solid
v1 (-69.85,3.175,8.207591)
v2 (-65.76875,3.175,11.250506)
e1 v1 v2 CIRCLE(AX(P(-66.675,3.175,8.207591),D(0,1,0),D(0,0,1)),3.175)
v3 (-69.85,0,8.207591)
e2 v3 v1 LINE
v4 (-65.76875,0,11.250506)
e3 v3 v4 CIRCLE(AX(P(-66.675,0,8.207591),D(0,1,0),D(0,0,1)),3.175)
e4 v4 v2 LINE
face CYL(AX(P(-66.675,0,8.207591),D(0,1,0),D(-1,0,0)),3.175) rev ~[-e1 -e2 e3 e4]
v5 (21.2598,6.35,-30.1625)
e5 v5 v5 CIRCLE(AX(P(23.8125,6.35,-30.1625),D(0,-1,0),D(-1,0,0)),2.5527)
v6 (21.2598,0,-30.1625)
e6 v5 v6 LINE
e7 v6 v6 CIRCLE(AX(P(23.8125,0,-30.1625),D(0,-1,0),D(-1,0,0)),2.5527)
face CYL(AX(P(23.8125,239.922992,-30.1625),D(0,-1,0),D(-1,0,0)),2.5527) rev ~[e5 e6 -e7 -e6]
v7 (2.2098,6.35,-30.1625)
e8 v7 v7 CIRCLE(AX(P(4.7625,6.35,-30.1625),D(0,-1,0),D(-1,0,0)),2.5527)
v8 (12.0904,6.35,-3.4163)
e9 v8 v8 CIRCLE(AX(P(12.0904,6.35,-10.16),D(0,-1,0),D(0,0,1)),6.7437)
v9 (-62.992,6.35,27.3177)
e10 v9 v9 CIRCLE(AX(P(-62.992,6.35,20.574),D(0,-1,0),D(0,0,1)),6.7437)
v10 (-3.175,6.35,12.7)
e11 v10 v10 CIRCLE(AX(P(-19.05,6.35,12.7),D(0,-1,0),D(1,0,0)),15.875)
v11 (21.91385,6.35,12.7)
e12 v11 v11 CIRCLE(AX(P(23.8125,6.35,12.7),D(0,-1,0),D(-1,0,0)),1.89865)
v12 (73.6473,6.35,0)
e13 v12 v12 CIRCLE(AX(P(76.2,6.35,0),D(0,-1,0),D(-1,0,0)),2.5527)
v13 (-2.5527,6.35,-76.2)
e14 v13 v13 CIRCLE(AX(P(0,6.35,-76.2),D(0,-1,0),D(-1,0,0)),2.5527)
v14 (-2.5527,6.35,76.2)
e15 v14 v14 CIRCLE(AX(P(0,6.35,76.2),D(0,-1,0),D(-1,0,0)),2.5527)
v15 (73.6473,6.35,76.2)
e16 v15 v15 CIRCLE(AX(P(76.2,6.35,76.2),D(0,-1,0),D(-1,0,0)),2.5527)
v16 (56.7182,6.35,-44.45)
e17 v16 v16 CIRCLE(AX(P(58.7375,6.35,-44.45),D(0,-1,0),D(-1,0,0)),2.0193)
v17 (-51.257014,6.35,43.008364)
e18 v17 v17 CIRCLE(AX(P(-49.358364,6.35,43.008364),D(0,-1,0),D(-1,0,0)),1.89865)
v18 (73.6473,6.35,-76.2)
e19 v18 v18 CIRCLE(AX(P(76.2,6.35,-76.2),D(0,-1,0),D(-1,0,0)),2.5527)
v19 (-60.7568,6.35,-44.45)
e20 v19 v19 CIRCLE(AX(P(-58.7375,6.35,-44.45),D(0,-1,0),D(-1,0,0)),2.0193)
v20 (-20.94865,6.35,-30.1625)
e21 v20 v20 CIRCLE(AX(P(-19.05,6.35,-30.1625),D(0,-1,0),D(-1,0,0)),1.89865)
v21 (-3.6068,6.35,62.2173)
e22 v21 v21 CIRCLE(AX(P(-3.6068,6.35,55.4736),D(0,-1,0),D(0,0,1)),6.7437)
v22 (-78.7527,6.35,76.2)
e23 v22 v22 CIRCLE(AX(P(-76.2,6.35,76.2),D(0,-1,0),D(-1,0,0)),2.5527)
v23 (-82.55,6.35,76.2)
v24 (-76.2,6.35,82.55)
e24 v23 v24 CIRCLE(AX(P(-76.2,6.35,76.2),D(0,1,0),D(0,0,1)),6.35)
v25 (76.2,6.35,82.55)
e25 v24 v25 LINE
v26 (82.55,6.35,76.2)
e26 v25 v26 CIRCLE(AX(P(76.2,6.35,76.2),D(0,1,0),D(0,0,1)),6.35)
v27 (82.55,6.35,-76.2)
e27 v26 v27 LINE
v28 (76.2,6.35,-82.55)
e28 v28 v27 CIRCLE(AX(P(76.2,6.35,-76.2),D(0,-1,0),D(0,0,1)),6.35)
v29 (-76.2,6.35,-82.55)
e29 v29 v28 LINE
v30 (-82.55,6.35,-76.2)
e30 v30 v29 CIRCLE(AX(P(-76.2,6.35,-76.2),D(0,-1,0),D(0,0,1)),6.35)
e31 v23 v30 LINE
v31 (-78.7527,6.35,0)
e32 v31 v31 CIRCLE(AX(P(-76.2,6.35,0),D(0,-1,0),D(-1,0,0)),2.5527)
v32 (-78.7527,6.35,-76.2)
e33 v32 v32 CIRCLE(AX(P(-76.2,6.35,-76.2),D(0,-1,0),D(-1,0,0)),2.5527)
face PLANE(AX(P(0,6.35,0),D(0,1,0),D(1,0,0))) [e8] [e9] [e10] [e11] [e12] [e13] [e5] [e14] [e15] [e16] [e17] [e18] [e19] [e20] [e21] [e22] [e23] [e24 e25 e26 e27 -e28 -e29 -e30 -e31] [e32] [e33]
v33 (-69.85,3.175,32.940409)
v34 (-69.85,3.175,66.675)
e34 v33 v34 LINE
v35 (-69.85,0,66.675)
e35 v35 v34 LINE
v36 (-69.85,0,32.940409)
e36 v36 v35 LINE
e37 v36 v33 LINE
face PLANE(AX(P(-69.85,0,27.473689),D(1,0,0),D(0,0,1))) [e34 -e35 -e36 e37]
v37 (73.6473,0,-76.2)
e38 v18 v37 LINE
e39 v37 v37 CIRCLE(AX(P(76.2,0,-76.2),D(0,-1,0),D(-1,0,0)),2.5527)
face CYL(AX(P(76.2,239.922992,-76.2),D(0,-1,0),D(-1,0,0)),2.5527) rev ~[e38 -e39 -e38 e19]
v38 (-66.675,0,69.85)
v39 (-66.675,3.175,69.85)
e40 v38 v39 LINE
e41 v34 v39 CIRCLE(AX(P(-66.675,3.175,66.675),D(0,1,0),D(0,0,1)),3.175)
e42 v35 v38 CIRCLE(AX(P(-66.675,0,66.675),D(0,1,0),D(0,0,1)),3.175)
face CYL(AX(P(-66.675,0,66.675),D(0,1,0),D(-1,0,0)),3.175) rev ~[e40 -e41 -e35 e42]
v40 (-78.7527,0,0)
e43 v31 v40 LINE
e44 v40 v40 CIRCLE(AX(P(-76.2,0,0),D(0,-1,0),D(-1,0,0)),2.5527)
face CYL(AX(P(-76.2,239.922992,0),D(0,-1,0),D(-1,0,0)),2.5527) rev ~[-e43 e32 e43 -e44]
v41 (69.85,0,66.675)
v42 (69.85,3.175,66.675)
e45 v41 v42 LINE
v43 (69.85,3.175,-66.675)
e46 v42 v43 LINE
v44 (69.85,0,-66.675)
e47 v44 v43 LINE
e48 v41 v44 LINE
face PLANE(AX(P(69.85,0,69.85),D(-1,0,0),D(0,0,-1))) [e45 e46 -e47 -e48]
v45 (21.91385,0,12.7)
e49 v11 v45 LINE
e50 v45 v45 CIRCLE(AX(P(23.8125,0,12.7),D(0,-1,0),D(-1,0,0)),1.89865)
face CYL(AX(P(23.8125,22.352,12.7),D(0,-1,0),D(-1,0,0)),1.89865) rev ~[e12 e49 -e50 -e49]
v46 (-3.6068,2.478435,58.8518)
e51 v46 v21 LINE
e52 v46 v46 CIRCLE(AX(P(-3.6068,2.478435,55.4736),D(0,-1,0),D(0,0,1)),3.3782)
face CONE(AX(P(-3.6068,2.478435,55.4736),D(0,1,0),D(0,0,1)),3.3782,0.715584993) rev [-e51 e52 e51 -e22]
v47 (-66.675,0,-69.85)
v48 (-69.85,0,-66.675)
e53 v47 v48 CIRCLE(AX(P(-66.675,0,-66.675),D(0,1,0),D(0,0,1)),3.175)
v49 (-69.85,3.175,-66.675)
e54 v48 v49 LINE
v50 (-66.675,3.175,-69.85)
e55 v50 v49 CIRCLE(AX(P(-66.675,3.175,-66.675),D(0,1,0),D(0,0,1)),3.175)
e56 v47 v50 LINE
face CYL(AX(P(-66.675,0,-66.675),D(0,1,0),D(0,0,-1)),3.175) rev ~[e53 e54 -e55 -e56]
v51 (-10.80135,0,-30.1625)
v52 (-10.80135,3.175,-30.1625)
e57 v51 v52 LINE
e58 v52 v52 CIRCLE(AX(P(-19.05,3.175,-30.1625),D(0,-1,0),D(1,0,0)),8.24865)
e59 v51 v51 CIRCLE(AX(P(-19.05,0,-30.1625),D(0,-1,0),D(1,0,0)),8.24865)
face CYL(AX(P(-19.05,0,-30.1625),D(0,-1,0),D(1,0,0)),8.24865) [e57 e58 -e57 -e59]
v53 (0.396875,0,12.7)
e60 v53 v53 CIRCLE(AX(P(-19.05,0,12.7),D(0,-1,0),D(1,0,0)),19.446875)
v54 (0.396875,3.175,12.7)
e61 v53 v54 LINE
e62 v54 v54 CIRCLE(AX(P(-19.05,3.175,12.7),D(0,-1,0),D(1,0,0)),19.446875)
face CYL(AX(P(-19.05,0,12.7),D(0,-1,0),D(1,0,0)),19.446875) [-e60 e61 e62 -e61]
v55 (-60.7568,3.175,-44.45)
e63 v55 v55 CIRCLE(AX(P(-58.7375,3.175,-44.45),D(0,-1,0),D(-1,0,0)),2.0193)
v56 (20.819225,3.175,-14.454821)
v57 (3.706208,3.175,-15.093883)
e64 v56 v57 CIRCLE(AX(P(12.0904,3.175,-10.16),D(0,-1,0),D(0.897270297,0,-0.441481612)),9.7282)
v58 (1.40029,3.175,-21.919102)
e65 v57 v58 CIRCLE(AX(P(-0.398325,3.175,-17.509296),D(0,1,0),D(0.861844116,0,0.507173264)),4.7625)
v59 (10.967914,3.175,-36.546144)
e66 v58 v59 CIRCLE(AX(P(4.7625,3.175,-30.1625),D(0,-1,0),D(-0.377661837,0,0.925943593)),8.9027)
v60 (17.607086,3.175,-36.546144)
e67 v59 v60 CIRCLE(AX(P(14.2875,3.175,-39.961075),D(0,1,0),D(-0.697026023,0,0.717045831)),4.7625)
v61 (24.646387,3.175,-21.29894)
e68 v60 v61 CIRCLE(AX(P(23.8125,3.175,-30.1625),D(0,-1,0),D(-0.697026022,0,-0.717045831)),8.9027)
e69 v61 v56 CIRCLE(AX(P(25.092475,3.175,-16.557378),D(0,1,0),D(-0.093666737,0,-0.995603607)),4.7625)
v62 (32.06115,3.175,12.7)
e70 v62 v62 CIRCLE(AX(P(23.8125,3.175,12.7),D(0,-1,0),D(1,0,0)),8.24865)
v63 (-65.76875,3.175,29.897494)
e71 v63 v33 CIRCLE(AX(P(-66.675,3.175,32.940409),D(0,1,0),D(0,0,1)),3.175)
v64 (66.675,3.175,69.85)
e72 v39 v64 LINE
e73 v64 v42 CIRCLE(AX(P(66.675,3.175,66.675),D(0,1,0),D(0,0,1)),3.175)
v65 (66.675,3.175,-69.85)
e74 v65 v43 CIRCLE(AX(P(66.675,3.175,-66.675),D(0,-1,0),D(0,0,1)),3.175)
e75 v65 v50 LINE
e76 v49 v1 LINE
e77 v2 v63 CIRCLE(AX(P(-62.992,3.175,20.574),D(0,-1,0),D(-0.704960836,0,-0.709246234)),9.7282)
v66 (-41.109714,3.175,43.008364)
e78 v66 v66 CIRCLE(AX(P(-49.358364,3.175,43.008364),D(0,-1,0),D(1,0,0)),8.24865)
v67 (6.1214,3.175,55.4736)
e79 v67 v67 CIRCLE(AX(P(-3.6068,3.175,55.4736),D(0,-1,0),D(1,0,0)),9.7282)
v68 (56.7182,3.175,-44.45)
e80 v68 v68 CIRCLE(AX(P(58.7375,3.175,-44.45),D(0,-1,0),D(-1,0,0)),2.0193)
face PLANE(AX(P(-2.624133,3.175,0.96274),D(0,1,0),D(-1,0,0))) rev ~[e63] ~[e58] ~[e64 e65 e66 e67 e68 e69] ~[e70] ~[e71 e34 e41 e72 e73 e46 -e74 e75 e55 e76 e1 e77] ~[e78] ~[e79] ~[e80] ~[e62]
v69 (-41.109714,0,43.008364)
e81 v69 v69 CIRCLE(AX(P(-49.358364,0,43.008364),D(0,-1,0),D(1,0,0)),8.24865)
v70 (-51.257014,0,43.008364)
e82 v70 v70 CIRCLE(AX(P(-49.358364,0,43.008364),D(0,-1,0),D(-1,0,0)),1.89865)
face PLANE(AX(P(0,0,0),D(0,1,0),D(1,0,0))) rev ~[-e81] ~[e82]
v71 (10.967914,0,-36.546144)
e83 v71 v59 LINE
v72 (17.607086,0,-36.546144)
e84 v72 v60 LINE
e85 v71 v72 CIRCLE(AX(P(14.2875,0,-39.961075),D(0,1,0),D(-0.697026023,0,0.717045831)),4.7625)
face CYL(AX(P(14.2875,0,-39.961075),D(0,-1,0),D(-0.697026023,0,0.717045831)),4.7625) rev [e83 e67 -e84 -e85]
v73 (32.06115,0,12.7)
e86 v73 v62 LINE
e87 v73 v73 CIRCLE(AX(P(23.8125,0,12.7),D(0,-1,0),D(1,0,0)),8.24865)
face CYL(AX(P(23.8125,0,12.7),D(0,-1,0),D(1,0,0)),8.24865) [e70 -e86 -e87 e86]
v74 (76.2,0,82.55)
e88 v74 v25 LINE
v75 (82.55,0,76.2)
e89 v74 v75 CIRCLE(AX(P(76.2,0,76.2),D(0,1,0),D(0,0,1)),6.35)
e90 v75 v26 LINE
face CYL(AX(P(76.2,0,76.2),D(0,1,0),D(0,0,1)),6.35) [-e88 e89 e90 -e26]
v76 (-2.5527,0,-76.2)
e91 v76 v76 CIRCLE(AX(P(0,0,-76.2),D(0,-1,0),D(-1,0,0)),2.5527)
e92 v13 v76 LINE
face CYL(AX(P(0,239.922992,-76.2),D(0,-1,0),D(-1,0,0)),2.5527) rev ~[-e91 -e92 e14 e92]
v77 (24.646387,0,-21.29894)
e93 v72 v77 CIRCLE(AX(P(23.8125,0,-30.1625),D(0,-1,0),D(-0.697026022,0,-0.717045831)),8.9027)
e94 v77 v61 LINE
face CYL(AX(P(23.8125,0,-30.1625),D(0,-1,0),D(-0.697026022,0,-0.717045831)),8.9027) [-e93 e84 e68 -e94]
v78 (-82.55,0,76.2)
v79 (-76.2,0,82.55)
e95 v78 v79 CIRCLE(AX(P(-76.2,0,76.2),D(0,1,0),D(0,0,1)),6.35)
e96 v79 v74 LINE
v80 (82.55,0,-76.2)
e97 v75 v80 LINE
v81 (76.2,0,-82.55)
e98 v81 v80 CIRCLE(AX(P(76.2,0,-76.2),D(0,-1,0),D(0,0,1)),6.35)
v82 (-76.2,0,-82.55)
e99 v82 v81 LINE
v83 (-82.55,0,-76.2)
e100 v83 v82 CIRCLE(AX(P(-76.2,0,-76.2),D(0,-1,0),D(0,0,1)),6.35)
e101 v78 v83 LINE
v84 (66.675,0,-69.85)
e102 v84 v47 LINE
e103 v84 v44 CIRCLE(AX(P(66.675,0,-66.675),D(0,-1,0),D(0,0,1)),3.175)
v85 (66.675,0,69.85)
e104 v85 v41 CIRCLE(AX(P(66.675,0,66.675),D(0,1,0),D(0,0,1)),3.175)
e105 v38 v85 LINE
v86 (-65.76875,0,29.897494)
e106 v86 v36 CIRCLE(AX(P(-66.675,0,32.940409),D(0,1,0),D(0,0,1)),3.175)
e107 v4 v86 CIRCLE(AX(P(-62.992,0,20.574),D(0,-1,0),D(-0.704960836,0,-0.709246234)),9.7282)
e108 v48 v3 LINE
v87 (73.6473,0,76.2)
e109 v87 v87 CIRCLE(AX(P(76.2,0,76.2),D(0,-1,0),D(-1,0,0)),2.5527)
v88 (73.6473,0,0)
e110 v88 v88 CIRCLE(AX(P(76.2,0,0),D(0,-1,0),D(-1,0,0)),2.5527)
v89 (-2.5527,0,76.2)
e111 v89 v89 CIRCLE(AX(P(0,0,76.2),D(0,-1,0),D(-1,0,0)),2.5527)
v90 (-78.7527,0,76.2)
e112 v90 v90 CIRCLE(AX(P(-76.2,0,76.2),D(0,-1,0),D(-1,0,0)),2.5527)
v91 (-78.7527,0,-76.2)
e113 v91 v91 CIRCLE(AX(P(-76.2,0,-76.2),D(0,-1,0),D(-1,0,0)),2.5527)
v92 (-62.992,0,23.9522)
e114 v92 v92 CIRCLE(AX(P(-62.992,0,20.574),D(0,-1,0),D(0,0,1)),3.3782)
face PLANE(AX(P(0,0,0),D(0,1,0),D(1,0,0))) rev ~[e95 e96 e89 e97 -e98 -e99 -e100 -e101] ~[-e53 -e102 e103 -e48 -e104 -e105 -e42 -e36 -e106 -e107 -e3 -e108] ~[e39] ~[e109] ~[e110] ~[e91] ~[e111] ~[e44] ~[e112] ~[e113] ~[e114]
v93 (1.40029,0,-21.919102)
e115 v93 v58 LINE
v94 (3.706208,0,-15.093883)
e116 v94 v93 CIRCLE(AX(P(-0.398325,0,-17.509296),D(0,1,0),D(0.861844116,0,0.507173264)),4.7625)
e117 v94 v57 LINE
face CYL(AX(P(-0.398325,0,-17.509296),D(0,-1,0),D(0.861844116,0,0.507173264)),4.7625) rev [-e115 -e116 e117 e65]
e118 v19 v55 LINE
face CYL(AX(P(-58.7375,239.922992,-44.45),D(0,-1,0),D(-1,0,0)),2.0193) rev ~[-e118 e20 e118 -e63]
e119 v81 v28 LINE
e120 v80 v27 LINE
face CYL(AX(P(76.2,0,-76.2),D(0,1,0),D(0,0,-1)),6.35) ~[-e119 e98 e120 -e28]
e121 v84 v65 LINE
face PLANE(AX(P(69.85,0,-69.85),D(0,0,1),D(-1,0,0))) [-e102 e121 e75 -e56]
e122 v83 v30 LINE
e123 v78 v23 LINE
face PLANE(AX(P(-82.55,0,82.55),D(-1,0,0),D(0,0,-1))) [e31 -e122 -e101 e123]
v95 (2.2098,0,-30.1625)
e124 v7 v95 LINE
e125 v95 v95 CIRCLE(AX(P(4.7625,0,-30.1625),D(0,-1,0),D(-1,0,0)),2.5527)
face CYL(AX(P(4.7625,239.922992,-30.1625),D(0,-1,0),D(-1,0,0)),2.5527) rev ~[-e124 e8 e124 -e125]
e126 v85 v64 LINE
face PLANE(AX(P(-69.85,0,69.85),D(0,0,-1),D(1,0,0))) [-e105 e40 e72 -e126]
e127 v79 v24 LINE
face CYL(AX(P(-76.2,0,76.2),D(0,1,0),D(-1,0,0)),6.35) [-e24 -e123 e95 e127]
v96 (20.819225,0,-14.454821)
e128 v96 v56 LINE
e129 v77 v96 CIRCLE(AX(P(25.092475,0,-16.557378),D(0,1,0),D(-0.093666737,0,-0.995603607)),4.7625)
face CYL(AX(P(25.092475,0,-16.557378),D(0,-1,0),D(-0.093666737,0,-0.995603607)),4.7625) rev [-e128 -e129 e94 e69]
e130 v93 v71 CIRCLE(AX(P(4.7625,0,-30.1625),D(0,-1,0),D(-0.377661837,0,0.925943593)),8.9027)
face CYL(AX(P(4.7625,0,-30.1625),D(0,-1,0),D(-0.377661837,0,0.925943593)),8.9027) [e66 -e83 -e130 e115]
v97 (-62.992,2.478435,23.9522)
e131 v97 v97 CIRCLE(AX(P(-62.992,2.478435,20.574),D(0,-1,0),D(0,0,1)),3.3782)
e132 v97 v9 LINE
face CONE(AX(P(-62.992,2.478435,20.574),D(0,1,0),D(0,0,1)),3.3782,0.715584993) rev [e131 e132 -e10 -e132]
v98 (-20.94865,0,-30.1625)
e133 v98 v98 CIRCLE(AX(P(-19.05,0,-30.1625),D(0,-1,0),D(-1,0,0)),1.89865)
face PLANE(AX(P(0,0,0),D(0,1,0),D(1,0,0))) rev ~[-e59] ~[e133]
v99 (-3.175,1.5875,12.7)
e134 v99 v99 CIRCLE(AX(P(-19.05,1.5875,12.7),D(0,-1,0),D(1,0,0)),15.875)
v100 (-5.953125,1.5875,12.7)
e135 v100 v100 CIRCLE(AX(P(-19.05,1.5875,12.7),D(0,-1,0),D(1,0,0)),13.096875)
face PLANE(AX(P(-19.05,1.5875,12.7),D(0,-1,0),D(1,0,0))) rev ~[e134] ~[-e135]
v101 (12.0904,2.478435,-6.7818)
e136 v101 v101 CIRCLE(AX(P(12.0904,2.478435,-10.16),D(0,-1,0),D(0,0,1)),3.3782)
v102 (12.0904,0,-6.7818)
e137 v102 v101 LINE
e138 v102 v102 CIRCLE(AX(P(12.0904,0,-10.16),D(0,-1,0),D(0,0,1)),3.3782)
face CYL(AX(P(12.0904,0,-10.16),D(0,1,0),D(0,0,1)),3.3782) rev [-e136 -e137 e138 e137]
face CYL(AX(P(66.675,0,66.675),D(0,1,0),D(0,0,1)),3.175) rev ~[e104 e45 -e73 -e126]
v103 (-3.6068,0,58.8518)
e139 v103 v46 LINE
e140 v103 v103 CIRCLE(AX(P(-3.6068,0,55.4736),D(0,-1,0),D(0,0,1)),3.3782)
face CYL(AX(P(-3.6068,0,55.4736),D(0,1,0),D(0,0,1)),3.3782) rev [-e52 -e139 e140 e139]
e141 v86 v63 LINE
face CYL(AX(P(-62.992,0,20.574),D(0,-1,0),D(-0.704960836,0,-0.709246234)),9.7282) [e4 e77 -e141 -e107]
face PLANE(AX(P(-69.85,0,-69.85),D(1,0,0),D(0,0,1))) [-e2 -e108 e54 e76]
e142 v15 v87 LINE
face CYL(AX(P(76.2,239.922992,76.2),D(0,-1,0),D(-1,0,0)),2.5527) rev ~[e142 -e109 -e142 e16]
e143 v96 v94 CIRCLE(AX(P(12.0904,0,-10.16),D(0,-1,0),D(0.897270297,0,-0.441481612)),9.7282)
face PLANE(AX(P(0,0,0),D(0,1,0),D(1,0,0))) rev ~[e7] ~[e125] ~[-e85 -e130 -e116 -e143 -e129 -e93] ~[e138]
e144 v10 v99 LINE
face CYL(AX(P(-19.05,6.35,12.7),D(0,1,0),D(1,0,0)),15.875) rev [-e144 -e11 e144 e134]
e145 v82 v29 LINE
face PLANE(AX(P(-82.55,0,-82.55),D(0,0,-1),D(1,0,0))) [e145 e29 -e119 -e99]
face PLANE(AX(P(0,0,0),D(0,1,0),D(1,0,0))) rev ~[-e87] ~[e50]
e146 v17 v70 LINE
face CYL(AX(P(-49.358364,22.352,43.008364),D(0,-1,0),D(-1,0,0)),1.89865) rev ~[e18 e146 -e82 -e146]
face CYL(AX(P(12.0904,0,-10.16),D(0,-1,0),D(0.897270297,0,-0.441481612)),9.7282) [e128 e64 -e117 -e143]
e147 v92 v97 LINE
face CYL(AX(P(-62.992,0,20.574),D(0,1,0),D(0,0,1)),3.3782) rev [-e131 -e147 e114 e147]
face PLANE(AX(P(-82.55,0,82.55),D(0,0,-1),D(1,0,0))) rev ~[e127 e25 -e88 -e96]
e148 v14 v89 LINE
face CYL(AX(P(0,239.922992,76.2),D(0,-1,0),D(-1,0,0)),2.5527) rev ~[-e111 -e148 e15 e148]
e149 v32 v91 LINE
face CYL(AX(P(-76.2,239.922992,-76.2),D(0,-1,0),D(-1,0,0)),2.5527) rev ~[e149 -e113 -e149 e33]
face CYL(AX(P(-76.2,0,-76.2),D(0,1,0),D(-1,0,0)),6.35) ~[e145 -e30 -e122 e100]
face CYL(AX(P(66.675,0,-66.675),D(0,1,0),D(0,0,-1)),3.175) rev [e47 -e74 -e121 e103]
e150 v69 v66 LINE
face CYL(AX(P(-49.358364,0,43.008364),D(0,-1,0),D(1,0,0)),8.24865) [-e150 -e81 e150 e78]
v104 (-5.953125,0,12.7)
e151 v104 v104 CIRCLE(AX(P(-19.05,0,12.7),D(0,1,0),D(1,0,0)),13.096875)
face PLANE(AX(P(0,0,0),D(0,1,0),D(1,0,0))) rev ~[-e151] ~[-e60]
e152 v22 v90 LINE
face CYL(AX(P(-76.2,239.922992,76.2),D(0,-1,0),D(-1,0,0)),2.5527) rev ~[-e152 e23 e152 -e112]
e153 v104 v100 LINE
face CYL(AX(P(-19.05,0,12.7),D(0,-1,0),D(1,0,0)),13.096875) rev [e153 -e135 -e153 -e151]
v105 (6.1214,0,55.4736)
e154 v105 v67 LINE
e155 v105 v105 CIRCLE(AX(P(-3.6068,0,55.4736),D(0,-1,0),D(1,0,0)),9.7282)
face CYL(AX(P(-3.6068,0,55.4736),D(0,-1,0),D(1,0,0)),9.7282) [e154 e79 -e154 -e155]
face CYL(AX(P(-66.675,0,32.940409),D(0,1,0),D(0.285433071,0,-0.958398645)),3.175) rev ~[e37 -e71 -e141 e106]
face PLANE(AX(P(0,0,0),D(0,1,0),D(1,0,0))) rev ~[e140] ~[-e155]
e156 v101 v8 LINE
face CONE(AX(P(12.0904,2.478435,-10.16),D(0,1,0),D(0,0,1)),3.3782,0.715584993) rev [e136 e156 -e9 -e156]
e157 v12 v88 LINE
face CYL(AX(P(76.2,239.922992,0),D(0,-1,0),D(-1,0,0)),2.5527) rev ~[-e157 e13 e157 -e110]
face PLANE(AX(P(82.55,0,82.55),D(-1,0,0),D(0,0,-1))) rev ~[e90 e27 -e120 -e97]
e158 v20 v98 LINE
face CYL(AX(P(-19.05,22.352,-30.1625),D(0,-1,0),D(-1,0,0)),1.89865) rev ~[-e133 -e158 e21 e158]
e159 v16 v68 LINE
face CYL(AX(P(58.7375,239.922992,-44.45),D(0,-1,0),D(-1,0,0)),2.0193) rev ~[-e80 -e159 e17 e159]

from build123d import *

# Parameters (mm, degrees)
SKETCH1_W                                    = 165.1
SKETCH1_H                                    = 165.1
SKETCH1_R                                    = 13.096875
SKETCH1_R_2                                  = 1.5875
BOSS_EXTRUDE1_DEPTH                          = 6.35
SKETCH3_R                                    = 15.875
CUT_EXTRUDE1_DEPTH                           = 4.7625
CSK_FOR_1_4_FLAT_HEAD_SOCKET_CAP_SCR_2_COUNT = 2
CSK_FOR_1_4_FLAT_HEAD_SOCKET_CAP_SCR_2_PITCH = 81.129190467
CSK_FOR_1_4_FLAT_HEAD_SOCKET_CAP_SCR_3_COUNT = 2
CSK_FOR_1_4_FLAT_HEAD_SOCKET_CAP_SCR_3_PITCH = 68.88094119
FILLET1_R                                    = 6.35
F_10_CLEARANCE_HOLE1_D                       = 5.1054
F_10_24_TAPPED_HOLE1_D                       = 3.7973
F_10_24_TAPPED_HOLE1_DEPTH                   = 16.002
F_10_24_TAPPED_HOLE1_TIP                     = 1.140824014
F_10_CLEARANCE_HOLE2_D                       = 5.1054
SKETCH16_R                                   = 19.446875
SKETCH16_R_2                                 = 9.7282
SKETCH16_R_3                                 = 8.24865
CUT_EXTRUDE2_DEPTH                           = 3.175
FILLET2_R                                    = 3.175
F_10_32_TAPPED_HOLE1_D                       = 4.0386


with BuildPart() as part:
    # Sketch1 → Boss-Extrude1 (new body)
    with BuildSketch(Plane(origin=(0, 0, 0), x_dir=(1, 0, 0), z_dir=(0, 1, 0))):
        Rectangle(SKETCH1_W, SKETCH1_H)
        with Locations((-19.05, -12.7)):
            Circle(SKETCH1_R, mode=Mode.SUBTRACT)
        with Locations((23.8125, -12.7)):
            Circle(SKETCH1_R_2, mode=Mode.SUBTRACT)
    extrude(amount=BOSS_EXTRUDE1_DEPTH)

    # Sketch3 → Cut-Extrude1 (cut)
    with BuildSketch(Plane.XZ.offset(-6.35)):
        with Locations((-19.05, 12.7)):
            Circle(SKETCH3_R)
    extrude(amount=CUT_EXTRUDE1_DEPTH, mode=Mode.SUBTRACT)

    # Sketch8 → CSK for 1/4 Flat Head Socket Cap Screw1 (revolve, cut)
    with BuildSketch(Plane(origin=(-62.992, 6.35, 20.574), x_dir=(0, 0, 1), z_dir=(1, 0, 0))):
        Polygon((0, 0), (0, 6.35), (3.3782, 6.35), (3.3782, 3.871564875), (6.7437, 0), align=None)
    csk_for_1_4_flat_head_socket_cap_screw1 = revolve(axis=Axis((-62.992, 12.7, 20.574), (0, -1, 0)), mode=Mode.SUBTRACT)

    # CSK for 1_4 Flat Head Socket Cap Scr 2: CSK for 1/4 Flat Head Socket Cap Screw1 ×2
    with Locations(*[Vector(0.925467142, 0, -0.378827889) * (i * CSK_FOR_1_4_FLAT_HEAD_SOCKET_CAP_SCR_2_PITCH) for i in range(1, CSK_FOR_1_4_FLAT_HEAD_SOCKET_CAP_SCR_2_COUNT)]):
        add(csk_for_1_4_flat_head_socket_cap_screw1, mode=Mode.SUBTRACT)

    # CSK for 1_4 Flat Head Socket Cap Scr 3: CSK for 1/4 Flat Head Socket Cap Screw1 ×2
    with Locations(*[Vector(0.862142691, 0, 0.506665551) * (i * CSK_FOR_1_4_FLAT_HEAD_SOCKET_CAP_SCR_3_PITCH) for i in range(1, CSK_FOR_1_4_FLAT_HEAD_SOCKET_CAP_SCR_3_COUNT)]):
        add(csk_for_1_4_flat_head_socket_cap_screw1, mode=Mode.SUBTRACT)

    # Fillet1
    fillet1_edges = [part.edges().sort_by_distance(p)[0] for p in [
        (-82.55, 3.175, -82.55),
        (82.55, 3.175, -82.55),
        (82.55, 3.175, 82.55),
        (-82.55, 3.175, 82.55),
    ]]
    fillet(fillet1_edges, radius=FILLET1_R)

    # #10 Clearance Hole1 (through all)
    with Locations(Plane(origin=(0, 6.35, 0), x_dir=(1, 0, 0), z_dir=(0, 1, 0))):
        with Locations((-76.2, -76.2), (-76.2, 76.2), (76.2, 76.2), (76.2, -76.2), (0, 76.2), (0, -76.2), (-76.2, 0), (76.2, 0)):
            Hole(F_10_CLEARANCE_HOLE1_D / 2)

    # #10-24 Tapped Hole1
    with Locations(Plane(origin=(0, 6.35, 0), x_dir=(1, 0, 0), z_dir=(0, 1, 0))):
        with Locations((23.8125, -12.7), (-49.358364409, -43.008364409), (-19.05, 30.1625), (-19.05, -12.7)):
            Hole(F_10_24_TAPPED_HOLE1_D / 2, depth=F_10_24_TAPPED_HOLE1_DEPTH)
            with Locations((0, 0, -(F_10_24_TAPPED_HOLE1_DEPTH + F_10_24_TAPPED_HOLE1_TIP / 2))):  # 118° drill point
                Cone(0, F_10_24_TAPPED_HOLE1_D / 2, F_10_24_TAPPED_HOLE1_TIP, mode=Mode.SUBTRACT)

    # #10 Clearance Hole2 (through all)
    with Locations(Plane(origin=(0, 6.35, 0), x_dir=(1, 0, 0), z_dir=(0, 1, 0))):
        with Locations((23.8125, 30.1625), (4.7625, 30.1625)):
            Hole(F_10_CLEARANCE_HOLE2_D / 2)

    # Sketch16 → Cut-Extrude2 (cut)
    with BuildSketch(Plane.XZ):
        with BuildLine():
            Line((69.85, -69.85), (-69.85, -69.85))
            Line((-69.85, -69.85), (-69.85, 13.674310787))
            ThreePointArc((-69.85, 13.674310787), (-53.2638, 20.574), (-69.85, 27.473689213))
            Line((-69.85, 27.473689213), (-69.85, 69.85))
            Line((-69.85, 69.85), (69.85, 69.85))
            Line((69.85, 69.85), (69.85, -69.85))
        make_face()
        with Locations((-19.05, 12.7)):
            Circle(SKETCH16_R, mode=Mode.SUBTRACT)
        with Locations((-3.6068, 55.4736)):
            Circle(SKETCH16_R_2, mode=Mode.SUBTRACT)
        with Locations((23.8125, 12.7)):
            Circle(SKETCH16_R_3, mode=Mode.SUBTRACT)
        with Locations((-19.05, -30.1625)):
            Circle(SKETCH16_R_3, mode=Mode.SUBTRACT)
        with Locations((-49.358364409, 43.008364409)):
            Circle(SKETCH16_R_3, mode=Mode.SUBTRACT)
        with BuildLine():
            ThreePointArc((20.819224907, -14.454821414), (11.727367105, -0.438576115), (3.70620807, -15.093882946))
            ThreePointArc((3.70620807, -15.093882946), (4.113625171, -19.033669627), (1.400289966, -21.919101976))
            ThreePointArc((1.400289966, -21.919101976), (-2.687905399, -35.035848611), (10.967913569, -36.546143923))
            ThreePointArc((10.967913569, -36.546143923), (14.2875, -35.198574694), (17.607086431, -36.546143923))
            ThreePointArc((17.607086431, -36.546143923), (31.895360473, -33.894179765), (24.646386862, -21.298939768))
            ThreePointArc((24.646386862, -21.298939768), (20.935730068, -18.881787262), (20.819224907, -14.454821414))
        make_face(mode=Mode.SUBTRACT)
    extrude(amount=-CUT_EXTRUDE2_DEPTH, mode=Mode.SUBTRACT)

    # Fillet2
    fillet2_edges = [part.edges().sort_by_distance(p)[0] for p in [
        (-69.85, 1.5875, 13.674310787),
        (-69.85, 1.5875, 27.473689213),
        (-69.85, 1.5875, 69.85),
        (69.85, 1.5875, 69.85),
        (69.85, 1.5875, -69.85),
        (-69.85, 1.5875, -69.85),
    ]]
    fillet(fillet2_edges, radius=FILLET2_R)

    # #10-32 Tapped Hole1 (through all)
    with Locations(Plane(origin=(0, 6.35, 0), x_dir=(1, 0, 0), z_dir=(0, 1, 0))):
        with Locations((58.7375, 44.45), (-58.7375, 44.45)):
            Hole(F_10_32_TAPPED_HOLE1_D / 2)


solid = part.part
